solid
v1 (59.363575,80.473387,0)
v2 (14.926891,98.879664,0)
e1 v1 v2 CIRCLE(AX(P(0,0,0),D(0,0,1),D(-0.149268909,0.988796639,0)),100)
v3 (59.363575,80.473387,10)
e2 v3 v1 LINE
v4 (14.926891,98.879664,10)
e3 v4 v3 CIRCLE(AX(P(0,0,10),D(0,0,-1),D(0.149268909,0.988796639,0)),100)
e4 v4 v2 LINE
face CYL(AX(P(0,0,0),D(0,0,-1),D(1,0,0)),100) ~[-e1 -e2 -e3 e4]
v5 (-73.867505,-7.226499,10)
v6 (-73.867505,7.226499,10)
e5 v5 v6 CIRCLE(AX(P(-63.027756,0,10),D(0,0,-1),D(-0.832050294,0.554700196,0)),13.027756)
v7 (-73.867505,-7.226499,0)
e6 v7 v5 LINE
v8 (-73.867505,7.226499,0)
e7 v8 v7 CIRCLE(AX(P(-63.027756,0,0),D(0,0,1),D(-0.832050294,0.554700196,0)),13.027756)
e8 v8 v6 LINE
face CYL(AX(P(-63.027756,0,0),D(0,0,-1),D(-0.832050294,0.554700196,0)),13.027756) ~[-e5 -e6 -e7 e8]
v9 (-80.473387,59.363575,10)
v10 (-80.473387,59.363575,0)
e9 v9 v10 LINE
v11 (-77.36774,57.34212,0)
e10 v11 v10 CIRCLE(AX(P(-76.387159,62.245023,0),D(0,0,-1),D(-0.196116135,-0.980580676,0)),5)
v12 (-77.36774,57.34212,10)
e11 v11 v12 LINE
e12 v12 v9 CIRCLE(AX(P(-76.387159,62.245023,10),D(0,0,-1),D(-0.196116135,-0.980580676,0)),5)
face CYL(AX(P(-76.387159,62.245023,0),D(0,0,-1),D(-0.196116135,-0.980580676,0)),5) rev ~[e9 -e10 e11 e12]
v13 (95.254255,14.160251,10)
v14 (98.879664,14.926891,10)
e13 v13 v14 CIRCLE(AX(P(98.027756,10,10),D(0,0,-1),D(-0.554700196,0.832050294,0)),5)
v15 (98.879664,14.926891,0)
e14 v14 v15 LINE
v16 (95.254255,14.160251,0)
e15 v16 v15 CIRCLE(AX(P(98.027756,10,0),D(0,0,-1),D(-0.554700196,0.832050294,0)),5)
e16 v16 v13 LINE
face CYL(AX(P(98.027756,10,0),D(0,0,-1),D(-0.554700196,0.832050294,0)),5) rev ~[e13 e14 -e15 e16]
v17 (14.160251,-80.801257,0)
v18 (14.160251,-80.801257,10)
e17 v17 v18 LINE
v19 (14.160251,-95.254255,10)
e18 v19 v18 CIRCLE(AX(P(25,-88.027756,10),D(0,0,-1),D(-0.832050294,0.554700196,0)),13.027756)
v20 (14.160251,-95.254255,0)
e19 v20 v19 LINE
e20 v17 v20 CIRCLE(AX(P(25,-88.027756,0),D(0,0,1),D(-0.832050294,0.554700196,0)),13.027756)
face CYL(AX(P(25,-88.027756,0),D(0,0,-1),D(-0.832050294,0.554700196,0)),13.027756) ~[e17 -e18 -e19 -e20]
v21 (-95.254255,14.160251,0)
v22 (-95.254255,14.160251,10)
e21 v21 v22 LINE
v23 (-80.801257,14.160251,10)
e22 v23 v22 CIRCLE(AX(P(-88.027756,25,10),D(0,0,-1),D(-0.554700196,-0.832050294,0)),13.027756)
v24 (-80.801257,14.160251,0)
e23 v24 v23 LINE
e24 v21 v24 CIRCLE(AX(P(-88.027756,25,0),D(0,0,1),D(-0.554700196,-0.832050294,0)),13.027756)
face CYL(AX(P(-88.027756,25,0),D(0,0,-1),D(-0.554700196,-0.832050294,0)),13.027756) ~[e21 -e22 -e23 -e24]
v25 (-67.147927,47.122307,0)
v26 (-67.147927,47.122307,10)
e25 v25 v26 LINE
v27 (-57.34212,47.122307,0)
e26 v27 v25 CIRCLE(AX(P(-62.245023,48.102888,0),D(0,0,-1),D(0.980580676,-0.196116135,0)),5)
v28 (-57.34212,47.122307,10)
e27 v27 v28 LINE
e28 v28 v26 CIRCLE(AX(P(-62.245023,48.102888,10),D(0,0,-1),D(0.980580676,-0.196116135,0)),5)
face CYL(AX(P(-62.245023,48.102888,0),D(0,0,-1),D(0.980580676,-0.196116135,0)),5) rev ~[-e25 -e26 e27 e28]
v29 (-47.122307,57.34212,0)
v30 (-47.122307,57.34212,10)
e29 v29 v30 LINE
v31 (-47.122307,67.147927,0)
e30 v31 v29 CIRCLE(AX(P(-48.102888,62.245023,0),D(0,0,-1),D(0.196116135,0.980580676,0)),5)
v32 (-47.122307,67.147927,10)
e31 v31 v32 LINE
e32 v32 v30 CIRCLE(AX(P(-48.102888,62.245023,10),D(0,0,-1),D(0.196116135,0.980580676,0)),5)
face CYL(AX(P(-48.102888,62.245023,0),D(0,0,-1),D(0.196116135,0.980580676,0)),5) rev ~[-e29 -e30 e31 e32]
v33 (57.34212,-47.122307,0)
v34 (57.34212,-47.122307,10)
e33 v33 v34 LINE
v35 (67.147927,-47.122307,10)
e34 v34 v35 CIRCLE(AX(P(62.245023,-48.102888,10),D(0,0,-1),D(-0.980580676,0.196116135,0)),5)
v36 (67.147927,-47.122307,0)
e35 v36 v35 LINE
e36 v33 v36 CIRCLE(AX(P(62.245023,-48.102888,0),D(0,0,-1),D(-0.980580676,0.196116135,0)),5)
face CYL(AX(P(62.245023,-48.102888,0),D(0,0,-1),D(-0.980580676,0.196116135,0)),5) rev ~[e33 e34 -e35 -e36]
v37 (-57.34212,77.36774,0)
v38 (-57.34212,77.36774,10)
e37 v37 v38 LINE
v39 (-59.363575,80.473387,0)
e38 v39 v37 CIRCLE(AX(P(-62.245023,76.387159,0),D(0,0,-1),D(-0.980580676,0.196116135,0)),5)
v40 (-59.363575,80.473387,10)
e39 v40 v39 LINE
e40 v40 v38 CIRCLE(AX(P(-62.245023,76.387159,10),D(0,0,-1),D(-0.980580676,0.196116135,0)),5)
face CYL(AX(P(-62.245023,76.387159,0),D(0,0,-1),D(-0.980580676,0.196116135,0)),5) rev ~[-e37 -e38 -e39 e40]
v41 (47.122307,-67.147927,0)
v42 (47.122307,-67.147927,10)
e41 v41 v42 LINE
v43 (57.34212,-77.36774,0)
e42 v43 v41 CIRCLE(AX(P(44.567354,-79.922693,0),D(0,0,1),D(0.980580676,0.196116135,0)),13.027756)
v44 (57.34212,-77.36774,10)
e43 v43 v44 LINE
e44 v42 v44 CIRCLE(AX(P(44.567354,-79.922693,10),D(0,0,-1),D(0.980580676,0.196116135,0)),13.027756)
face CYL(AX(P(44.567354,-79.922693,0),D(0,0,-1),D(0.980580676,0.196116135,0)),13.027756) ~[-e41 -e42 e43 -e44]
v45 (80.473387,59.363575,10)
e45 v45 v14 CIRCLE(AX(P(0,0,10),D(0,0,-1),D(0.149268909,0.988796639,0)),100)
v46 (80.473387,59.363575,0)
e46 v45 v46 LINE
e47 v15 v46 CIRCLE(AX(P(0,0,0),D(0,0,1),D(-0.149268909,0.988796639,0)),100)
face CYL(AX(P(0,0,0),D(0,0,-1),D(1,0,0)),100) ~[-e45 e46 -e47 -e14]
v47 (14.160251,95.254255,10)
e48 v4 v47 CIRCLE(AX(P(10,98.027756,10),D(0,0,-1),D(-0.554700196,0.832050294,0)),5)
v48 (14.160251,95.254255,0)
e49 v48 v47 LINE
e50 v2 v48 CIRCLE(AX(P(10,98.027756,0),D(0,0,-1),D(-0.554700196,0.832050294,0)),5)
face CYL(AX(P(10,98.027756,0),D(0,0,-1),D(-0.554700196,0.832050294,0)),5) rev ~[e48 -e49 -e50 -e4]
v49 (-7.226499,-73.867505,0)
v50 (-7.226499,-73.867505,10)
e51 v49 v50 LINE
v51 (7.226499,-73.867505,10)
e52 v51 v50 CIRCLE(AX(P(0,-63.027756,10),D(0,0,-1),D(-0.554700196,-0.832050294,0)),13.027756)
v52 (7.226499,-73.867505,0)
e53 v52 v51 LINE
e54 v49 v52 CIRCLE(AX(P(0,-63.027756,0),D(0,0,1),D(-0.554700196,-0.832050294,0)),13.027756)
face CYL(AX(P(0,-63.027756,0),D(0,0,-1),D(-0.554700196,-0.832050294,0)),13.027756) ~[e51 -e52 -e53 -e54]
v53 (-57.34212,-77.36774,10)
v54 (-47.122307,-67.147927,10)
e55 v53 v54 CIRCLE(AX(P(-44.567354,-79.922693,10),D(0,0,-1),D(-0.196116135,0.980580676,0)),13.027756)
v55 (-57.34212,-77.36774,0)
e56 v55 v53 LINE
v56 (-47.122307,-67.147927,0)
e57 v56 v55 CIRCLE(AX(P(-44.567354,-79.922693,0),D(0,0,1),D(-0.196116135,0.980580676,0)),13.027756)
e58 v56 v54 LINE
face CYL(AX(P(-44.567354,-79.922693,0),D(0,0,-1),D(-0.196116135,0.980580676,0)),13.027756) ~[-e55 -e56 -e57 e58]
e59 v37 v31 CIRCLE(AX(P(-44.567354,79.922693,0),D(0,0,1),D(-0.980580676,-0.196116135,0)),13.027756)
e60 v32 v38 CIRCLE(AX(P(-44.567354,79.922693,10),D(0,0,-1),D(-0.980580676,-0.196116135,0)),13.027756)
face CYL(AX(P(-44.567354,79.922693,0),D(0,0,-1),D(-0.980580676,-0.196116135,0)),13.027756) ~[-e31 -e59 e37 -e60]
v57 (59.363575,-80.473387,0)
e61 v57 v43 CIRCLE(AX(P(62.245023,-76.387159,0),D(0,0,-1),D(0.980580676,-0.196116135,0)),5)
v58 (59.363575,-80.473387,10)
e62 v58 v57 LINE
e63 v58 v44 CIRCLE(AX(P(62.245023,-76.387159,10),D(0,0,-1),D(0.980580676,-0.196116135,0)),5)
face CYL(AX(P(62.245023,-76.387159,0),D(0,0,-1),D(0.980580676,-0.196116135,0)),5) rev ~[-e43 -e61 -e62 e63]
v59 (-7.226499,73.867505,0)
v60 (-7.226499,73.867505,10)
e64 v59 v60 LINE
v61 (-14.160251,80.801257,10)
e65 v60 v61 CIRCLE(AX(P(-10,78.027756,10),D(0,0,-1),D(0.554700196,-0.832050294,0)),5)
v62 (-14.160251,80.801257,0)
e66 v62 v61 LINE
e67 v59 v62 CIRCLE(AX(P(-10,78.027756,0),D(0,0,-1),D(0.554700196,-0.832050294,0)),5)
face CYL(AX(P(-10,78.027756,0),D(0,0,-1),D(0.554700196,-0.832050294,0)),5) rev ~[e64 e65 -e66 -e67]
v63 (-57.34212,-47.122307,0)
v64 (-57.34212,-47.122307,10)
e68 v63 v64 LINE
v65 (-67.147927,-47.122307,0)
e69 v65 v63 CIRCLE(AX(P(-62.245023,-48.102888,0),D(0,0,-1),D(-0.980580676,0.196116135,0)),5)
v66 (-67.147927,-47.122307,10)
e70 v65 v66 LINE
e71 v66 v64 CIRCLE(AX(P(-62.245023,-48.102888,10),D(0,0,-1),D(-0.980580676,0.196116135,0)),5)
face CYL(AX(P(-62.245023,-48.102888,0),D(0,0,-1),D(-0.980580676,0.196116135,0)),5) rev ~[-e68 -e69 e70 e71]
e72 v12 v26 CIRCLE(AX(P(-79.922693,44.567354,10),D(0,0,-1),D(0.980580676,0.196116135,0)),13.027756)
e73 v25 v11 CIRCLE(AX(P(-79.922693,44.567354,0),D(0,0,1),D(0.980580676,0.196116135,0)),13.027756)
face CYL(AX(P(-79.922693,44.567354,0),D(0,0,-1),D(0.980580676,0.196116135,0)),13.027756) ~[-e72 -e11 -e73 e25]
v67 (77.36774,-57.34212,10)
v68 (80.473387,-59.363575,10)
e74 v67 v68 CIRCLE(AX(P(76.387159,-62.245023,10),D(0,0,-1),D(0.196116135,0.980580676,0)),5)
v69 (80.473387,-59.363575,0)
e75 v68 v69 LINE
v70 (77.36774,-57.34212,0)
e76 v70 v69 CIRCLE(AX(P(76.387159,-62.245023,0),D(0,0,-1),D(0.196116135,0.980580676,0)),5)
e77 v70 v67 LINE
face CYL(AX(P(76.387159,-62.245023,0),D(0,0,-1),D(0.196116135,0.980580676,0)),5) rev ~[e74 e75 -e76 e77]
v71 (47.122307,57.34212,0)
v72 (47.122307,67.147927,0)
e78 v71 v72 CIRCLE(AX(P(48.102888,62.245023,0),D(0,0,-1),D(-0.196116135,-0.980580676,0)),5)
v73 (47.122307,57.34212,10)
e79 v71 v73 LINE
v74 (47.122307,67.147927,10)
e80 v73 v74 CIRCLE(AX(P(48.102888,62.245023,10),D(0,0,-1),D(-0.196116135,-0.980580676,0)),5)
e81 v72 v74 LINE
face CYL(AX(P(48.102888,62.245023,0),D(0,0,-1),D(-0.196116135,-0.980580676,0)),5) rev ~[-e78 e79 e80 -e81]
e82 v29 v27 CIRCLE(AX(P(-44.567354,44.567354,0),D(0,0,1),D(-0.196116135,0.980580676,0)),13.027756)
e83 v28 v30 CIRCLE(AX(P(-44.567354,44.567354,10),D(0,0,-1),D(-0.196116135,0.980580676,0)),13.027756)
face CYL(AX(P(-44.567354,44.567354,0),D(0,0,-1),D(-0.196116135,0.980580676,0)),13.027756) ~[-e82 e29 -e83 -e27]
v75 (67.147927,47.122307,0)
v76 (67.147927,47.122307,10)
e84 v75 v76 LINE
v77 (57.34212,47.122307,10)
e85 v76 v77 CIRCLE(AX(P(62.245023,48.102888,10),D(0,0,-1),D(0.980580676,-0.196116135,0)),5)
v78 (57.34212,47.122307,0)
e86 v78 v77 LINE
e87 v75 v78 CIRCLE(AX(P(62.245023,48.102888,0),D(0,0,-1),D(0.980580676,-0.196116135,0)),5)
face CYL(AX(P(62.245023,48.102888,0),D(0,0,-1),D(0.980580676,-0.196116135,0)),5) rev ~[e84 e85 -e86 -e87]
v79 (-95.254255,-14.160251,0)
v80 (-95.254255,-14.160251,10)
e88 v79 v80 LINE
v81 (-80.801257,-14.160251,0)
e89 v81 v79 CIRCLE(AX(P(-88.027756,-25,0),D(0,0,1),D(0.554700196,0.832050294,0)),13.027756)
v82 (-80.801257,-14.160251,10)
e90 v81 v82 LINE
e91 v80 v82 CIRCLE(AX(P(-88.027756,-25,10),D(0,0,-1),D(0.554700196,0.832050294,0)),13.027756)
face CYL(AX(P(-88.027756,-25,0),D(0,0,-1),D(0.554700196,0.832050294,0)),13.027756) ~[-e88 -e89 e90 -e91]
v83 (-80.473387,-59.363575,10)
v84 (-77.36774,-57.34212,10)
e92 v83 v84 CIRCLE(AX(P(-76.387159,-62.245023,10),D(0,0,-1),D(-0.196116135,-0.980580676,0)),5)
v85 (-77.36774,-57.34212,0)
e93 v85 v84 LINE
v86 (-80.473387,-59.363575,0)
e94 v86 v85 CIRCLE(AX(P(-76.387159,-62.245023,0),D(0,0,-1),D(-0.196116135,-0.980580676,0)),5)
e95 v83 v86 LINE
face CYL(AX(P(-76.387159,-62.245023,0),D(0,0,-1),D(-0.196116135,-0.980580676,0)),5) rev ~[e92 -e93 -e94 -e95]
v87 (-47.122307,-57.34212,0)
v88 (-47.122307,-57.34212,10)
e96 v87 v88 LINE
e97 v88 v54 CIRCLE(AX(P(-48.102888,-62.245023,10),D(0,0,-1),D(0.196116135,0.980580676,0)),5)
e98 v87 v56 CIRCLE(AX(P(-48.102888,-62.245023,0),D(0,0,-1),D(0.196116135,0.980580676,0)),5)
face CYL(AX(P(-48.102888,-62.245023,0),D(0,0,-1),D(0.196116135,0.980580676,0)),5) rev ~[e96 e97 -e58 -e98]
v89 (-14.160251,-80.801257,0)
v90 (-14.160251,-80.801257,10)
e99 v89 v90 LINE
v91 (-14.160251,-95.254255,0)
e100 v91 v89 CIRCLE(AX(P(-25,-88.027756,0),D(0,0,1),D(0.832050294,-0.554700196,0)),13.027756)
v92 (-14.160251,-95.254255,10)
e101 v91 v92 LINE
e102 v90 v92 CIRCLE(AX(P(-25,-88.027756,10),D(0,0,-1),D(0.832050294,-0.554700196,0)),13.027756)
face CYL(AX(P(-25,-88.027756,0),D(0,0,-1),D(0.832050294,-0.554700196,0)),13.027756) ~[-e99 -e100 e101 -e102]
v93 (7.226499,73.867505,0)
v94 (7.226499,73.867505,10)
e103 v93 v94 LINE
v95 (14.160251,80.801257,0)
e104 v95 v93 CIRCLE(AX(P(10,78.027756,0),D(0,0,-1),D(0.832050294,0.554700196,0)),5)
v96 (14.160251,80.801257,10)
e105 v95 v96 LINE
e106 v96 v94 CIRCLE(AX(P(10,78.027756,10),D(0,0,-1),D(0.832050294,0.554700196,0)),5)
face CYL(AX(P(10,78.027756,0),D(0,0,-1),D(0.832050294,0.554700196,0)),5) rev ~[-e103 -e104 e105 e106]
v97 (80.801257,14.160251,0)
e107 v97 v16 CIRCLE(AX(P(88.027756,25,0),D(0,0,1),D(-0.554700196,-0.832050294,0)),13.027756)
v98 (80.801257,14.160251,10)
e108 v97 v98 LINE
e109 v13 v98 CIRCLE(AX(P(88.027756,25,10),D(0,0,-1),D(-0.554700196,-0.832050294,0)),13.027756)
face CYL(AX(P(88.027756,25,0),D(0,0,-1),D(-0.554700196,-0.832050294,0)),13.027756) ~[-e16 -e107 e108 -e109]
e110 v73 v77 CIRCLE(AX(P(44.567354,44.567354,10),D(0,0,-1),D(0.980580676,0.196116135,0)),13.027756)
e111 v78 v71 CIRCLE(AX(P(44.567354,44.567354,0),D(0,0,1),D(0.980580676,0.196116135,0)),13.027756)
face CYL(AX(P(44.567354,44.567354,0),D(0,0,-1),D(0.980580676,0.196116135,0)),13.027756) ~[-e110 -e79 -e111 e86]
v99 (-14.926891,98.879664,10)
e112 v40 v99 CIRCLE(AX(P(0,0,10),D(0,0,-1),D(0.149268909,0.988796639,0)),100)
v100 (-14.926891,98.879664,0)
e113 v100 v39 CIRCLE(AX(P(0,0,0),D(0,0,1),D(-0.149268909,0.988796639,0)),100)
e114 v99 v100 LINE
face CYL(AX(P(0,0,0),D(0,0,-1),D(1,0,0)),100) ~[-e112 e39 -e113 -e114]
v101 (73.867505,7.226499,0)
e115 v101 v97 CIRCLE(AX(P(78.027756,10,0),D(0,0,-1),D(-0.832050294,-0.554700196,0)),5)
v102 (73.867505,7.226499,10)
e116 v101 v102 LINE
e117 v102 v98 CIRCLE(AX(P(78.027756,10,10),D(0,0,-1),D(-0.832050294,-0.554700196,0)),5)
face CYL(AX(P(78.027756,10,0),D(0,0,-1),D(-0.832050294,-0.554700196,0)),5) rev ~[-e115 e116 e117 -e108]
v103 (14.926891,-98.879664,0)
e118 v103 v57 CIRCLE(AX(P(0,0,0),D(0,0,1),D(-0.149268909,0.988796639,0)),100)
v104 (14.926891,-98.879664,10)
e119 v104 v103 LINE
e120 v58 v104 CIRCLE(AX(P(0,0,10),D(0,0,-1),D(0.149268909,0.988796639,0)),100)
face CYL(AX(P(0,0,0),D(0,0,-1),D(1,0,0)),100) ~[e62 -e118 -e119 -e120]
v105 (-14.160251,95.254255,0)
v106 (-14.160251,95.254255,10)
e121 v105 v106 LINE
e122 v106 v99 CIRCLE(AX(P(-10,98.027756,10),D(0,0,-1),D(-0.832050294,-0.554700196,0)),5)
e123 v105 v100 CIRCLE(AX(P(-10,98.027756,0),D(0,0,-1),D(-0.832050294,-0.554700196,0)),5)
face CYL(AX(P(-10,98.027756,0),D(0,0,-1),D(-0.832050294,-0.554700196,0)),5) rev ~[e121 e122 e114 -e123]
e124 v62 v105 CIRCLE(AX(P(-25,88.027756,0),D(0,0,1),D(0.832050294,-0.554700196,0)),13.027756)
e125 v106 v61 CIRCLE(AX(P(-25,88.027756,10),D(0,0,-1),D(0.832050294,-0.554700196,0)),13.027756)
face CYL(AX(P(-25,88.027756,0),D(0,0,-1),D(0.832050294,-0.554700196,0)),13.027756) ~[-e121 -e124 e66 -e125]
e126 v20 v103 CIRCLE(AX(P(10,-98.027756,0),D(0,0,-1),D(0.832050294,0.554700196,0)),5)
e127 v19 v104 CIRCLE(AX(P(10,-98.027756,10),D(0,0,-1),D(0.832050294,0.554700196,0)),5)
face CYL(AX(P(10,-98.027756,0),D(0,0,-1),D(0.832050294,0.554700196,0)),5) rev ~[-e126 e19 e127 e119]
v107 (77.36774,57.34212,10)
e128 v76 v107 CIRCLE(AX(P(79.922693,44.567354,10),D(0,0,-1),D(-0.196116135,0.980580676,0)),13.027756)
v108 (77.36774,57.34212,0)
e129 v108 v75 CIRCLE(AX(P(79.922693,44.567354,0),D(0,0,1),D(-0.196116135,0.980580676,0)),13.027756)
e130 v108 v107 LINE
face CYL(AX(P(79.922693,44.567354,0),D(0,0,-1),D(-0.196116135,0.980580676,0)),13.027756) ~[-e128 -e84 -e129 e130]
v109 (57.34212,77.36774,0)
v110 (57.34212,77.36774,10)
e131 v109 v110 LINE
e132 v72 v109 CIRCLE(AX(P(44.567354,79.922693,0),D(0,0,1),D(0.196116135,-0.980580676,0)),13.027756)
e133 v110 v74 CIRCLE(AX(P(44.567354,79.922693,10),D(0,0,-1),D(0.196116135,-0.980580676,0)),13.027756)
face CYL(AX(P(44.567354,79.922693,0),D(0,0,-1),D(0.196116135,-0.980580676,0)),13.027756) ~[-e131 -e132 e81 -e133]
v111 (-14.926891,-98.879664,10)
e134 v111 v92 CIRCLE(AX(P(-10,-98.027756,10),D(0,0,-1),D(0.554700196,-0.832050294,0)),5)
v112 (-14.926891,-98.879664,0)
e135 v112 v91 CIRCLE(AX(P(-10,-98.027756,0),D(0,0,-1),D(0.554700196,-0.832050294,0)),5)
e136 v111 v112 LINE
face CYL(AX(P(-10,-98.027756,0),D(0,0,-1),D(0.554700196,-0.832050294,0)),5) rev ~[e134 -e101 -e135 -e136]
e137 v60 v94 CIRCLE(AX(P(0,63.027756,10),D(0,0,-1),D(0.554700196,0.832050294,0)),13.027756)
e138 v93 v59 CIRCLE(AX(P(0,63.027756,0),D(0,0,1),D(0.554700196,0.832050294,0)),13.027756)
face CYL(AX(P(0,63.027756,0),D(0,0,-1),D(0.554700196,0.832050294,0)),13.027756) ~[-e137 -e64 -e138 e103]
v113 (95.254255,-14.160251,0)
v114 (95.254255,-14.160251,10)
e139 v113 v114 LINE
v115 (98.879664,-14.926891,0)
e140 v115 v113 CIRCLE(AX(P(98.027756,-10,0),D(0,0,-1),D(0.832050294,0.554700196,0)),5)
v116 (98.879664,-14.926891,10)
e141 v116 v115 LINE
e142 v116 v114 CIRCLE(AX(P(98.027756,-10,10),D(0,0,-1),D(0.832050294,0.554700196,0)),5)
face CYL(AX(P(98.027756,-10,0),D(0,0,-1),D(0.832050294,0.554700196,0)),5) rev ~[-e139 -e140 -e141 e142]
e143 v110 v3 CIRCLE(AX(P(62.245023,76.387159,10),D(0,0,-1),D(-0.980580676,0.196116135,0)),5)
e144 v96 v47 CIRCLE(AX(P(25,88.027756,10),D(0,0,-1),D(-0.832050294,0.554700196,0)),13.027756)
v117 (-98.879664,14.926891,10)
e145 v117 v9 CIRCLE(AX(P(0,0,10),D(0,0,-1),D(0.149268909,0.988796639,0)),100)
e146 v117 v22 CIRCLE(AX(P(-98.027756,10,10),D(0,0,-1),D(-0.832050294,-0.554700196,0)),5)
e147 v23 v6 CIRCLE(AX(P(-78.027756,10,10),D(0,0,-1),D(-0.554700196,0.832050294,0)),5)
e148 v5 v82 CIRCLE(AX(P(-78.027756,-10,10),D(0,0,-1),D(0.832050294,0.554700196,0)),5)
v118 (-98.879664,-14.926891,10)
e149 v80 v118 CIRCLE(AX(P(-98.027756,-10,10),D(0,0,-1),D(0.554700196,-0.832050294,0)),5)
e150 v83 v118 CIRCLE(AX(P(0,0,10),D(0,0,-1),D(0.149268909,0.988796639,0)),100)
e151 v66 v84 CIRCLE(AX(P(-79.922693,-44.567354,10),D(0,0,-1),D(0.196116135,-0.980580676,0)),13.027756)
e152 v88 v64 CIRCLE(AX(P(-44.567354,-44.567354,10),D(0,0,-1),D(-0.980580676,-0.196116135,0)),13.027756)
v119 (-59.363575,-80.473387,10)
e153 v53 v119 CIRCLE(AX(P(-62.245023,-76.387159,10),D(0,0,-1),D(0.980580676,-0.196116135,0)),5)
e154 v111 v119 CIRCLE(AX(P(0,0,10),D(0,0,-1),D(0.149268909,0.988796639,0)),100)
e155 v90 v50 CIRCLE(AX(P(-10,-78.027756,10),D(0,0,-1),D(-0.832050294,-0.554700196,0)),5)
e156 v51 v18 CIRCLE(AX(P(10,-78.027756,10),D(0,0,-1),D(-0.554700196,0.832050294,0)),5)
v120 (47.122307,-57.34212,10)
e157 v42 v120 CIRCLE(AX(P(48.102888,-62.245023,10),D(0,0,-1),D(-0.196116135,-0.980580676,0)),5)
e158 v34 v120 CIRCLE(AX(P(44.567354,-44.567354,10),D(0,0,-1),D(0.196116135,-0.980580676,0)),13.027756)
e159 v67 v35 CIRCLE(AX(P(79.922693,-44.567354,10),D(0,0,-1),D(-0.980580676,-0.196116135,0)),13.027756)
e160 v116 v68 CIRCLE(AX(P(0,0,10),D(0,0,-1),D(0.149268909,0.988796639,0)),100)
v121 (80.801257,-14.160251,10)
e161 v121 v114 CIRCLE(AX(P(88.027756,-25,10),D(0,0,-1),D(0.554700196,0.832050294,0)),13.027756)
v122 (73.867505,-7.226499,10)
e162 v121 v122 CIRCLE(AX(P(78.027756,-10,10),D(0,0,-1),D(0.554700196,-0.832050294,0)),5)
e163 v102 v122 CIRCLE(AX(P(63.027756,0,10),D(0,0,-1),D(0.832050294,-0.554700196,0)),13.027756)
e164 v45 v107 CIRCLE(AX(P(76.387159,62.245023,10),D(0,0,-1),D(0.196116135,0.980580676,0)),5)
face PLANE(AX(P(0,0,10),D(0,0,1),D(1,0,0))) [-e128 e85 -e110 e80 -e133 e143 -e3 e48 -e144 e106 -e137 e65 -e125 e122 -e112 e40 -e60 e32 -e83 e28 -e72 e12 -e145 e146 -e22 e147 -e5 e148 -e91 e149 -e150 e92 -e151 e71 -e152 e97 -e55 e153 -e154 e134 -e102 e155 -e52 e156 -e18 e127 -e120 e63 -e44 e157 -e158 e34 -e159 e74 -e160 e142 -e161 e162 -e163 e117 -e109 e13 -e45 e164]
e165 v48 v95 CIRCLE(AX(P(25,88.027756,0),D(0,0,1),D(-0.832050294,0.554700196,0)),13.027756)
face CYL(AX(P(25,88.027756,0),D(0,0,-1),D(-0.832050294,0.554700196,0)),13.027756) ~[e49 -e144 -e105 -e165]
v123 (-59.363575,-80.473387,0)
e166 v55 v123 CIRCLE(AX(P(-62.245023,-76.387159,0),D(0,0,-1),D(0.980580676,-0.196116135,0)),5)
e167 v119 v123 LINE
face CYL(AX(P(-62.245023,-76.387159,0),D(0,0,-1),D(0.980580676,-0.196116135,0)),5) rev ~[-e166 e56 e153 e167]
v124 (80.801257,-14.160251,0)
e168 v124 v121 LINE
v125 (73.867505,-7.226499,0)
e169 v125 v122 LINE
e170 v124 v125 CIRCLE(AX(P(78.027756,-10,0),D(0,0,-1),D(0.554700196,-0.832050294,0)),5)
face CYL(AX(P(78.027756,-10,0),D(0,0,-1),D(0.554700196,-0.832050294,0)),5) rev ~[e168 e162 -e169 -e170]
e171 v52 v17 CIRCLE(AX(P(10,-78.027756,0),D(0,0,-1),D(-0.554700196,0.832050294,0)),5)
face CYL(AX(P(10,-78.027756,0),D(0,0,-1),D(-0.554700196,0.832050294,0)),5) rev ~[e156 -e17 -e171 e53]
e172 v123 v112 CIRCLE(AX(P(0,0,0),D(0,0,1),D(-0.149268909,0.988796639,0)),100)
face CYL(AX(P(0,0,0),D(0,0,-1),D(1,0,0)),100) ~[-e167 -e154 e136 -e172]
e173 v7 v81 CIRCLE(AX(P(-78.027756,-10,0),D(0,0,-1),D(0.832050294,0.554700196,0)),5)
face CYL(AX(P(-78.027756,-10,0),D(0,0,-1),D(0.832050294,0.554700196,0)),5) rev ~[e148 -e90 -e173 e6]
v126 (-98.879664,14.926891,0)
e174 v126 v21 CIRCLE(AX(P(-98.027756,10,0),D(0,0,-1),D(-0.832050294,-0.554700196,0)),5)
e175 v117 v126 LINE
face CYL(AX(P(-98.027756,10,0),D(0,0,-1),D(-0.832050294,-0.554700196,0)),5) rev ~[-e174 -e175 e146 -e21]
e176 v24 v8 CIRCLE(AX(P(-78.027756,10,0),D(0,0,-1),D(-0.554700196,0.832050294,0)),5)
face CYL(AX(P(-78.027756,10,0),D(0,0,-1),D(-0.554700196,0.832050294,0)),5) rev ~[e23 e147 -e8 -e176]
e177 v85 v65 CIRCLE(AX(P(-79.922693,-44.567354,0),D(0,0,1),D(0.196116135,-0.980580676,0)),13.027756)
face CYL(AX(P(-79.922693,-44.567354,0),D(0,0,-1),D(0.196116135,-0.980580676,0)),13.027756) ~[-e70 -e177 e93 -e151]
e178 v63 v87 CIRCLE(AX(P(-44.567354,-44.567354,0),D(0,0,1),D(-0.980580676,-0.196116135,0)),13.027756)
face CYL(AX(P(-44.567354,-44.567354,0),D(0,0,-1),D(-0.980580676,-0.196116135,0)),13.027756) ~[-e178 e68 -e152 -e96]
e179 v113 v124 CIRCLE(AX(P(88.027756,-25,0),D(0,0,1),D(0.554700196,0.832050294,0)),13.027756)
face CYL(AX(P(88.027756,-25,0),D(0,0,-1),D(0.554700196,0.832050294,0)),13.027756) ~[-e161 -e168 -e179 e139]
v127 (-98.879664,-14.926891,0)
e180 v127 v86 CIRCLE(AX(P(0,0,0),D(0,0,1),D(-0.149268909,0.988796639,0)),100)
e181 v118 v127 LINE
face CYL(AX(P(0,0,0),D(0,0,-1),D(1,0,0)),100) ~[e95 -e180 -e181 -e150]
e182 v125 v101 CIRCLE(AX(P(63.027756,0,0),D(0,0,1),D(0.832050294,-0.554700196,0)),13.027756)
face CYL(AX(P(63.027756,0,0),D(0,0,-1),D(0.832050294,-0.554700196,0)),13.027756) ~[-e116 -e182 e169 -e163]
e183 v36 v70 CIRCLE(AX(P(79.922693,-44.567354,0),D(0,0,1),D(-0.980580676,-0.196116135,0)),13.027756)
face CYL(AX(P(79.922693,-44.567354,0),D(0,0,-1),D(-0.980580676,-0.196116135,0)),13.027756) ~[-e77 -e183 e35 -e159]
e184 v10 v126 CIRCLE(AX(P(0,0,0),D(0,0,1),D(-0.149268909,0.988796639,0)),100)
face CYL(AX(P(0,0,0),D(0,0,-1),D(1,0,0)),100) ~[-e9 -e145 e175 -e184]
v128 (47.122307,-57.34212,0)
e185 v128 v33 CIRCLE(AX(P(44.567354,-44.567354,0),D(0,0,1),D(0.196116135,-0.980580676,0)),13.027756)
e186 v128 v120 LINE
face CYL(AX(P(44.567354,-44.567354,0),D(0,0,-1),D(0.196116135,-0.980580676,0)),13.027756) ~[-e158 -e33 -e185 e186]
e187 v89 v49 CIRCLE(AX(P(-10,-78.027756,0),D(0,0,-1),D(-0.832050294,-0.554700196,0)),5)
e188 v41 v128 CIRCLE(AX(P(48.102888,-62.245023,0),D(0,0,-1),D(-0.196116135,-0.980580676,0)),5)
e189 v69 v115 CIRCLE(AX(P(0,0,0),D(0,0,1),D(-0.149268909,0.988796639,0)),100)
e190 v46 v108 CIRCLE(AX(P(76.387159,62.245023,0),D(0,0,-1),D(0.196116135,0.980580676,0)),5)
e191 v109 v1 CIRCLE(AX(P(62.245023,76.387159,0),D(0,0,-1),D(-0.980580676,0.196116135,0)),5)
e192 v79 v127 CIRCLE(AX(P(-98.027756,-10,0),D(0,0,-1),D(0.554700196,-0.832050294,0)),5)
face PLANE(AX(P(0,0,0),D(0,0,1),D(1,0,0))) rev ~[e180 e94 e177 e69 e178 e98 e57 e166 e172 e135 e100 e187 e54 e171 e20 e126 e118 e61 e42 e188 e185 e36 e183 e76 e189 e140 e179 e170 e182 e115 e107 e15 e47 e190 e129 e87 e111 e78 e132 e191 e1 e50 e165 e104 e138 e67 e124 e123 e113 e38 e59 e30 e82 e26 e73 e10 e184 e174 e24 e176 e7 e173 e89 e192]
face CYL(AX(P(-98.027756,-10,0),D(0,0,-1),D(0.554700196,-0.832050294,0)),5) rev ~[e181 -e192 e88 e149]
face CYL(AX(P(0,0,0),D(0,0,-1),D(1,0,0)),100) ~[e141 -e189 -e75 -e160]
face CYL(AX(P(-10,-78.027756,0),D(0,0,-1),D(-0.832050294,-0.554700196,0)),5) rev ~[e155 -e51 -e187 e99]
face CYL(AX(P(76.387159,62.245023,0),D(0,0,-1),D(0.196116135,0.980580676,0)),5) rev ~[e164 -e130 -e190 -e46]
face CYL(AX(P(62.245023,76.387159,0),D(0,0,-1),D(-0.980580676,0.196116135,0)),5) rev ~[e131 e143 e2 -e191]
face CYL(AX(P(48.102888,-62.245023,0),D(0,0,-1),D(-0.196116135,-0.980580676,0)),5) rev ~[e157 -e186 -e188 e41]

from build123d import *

# Parameters (mm, degrees)
SKETCH_1_R               = 100
EXTRUDE_1_DEPTH          = 10
CUT_EXTRUDE_5_DEPTH      = 142.774468788
PATTERN_CIRCULAR_1_COUNT = 8


with BuildPart() as part:
    # 草圖1 → 伸長1 (new body)
    with BuildSketch(Plane.XY):
        Circle(SKETCH_1_R)
    extrude(amount=EXTRUDE_1_DEPTH)

    # 草圖2 → 伸長5 (cut, through all)
    with BuildSketch(Plane.XY):
        with BuildLine():
            ThreePointArc((14.160251472, 95.254255396), (11.972243623, 88.027756377), (14.160251472, 80.801257358))
            ThreePointArc((14.160251472, 80.801257358), (13.535533906, 74.492222471), (7.226499019, 73.867504906))
            ThreePointArc((7.226499019, 73.867504906), (0, 76.055512755), (-7.226499019, 73.867504906))
            ThreePointArc((-7.226499019, 73.867504906), (-13.535533906, 74.492222471), (-14.160251472, 80.801257358))
            ThreePointArc((-14.160251472, 80.801257358), (-11.972243623, 88.027756377), (-14.160251472, 95.254255396))
            ThreePointArc((-14.160251472, 95.254255396), (-13.535533906, 101.563290283), (-7.226499019, 102.188007849))
            ThreePointArc((-7.226499019, 102.188007849), (0, 100), (7.226499019, 102.188007849))
            ThreePointArc((7.226499019, 102.188007849), (13.535533906, 101.563290283), (14.160251472, 95.254255396))
        make_face()
    cut_extrude_5 = extrude(amount=CUT_EXTRUDE_5_DEPTH, mode=Mode.SUBTRACT)

    # 環狀複製排列1: 伸長5 ×8 about axis
    pattern_circular_1_axis = Axis((0, 0, 0), (0, 0, 1))
    for i in range(1, PATTERN_CIRCULAR_1_COUNT):
        add(cut_extrude_5.rotate(pattern_circular_1_axis, i * 360 / PATTERN_CIRCULAR_1_COUNT), mode=Mode.SUBTRACT)


solid = part.part
